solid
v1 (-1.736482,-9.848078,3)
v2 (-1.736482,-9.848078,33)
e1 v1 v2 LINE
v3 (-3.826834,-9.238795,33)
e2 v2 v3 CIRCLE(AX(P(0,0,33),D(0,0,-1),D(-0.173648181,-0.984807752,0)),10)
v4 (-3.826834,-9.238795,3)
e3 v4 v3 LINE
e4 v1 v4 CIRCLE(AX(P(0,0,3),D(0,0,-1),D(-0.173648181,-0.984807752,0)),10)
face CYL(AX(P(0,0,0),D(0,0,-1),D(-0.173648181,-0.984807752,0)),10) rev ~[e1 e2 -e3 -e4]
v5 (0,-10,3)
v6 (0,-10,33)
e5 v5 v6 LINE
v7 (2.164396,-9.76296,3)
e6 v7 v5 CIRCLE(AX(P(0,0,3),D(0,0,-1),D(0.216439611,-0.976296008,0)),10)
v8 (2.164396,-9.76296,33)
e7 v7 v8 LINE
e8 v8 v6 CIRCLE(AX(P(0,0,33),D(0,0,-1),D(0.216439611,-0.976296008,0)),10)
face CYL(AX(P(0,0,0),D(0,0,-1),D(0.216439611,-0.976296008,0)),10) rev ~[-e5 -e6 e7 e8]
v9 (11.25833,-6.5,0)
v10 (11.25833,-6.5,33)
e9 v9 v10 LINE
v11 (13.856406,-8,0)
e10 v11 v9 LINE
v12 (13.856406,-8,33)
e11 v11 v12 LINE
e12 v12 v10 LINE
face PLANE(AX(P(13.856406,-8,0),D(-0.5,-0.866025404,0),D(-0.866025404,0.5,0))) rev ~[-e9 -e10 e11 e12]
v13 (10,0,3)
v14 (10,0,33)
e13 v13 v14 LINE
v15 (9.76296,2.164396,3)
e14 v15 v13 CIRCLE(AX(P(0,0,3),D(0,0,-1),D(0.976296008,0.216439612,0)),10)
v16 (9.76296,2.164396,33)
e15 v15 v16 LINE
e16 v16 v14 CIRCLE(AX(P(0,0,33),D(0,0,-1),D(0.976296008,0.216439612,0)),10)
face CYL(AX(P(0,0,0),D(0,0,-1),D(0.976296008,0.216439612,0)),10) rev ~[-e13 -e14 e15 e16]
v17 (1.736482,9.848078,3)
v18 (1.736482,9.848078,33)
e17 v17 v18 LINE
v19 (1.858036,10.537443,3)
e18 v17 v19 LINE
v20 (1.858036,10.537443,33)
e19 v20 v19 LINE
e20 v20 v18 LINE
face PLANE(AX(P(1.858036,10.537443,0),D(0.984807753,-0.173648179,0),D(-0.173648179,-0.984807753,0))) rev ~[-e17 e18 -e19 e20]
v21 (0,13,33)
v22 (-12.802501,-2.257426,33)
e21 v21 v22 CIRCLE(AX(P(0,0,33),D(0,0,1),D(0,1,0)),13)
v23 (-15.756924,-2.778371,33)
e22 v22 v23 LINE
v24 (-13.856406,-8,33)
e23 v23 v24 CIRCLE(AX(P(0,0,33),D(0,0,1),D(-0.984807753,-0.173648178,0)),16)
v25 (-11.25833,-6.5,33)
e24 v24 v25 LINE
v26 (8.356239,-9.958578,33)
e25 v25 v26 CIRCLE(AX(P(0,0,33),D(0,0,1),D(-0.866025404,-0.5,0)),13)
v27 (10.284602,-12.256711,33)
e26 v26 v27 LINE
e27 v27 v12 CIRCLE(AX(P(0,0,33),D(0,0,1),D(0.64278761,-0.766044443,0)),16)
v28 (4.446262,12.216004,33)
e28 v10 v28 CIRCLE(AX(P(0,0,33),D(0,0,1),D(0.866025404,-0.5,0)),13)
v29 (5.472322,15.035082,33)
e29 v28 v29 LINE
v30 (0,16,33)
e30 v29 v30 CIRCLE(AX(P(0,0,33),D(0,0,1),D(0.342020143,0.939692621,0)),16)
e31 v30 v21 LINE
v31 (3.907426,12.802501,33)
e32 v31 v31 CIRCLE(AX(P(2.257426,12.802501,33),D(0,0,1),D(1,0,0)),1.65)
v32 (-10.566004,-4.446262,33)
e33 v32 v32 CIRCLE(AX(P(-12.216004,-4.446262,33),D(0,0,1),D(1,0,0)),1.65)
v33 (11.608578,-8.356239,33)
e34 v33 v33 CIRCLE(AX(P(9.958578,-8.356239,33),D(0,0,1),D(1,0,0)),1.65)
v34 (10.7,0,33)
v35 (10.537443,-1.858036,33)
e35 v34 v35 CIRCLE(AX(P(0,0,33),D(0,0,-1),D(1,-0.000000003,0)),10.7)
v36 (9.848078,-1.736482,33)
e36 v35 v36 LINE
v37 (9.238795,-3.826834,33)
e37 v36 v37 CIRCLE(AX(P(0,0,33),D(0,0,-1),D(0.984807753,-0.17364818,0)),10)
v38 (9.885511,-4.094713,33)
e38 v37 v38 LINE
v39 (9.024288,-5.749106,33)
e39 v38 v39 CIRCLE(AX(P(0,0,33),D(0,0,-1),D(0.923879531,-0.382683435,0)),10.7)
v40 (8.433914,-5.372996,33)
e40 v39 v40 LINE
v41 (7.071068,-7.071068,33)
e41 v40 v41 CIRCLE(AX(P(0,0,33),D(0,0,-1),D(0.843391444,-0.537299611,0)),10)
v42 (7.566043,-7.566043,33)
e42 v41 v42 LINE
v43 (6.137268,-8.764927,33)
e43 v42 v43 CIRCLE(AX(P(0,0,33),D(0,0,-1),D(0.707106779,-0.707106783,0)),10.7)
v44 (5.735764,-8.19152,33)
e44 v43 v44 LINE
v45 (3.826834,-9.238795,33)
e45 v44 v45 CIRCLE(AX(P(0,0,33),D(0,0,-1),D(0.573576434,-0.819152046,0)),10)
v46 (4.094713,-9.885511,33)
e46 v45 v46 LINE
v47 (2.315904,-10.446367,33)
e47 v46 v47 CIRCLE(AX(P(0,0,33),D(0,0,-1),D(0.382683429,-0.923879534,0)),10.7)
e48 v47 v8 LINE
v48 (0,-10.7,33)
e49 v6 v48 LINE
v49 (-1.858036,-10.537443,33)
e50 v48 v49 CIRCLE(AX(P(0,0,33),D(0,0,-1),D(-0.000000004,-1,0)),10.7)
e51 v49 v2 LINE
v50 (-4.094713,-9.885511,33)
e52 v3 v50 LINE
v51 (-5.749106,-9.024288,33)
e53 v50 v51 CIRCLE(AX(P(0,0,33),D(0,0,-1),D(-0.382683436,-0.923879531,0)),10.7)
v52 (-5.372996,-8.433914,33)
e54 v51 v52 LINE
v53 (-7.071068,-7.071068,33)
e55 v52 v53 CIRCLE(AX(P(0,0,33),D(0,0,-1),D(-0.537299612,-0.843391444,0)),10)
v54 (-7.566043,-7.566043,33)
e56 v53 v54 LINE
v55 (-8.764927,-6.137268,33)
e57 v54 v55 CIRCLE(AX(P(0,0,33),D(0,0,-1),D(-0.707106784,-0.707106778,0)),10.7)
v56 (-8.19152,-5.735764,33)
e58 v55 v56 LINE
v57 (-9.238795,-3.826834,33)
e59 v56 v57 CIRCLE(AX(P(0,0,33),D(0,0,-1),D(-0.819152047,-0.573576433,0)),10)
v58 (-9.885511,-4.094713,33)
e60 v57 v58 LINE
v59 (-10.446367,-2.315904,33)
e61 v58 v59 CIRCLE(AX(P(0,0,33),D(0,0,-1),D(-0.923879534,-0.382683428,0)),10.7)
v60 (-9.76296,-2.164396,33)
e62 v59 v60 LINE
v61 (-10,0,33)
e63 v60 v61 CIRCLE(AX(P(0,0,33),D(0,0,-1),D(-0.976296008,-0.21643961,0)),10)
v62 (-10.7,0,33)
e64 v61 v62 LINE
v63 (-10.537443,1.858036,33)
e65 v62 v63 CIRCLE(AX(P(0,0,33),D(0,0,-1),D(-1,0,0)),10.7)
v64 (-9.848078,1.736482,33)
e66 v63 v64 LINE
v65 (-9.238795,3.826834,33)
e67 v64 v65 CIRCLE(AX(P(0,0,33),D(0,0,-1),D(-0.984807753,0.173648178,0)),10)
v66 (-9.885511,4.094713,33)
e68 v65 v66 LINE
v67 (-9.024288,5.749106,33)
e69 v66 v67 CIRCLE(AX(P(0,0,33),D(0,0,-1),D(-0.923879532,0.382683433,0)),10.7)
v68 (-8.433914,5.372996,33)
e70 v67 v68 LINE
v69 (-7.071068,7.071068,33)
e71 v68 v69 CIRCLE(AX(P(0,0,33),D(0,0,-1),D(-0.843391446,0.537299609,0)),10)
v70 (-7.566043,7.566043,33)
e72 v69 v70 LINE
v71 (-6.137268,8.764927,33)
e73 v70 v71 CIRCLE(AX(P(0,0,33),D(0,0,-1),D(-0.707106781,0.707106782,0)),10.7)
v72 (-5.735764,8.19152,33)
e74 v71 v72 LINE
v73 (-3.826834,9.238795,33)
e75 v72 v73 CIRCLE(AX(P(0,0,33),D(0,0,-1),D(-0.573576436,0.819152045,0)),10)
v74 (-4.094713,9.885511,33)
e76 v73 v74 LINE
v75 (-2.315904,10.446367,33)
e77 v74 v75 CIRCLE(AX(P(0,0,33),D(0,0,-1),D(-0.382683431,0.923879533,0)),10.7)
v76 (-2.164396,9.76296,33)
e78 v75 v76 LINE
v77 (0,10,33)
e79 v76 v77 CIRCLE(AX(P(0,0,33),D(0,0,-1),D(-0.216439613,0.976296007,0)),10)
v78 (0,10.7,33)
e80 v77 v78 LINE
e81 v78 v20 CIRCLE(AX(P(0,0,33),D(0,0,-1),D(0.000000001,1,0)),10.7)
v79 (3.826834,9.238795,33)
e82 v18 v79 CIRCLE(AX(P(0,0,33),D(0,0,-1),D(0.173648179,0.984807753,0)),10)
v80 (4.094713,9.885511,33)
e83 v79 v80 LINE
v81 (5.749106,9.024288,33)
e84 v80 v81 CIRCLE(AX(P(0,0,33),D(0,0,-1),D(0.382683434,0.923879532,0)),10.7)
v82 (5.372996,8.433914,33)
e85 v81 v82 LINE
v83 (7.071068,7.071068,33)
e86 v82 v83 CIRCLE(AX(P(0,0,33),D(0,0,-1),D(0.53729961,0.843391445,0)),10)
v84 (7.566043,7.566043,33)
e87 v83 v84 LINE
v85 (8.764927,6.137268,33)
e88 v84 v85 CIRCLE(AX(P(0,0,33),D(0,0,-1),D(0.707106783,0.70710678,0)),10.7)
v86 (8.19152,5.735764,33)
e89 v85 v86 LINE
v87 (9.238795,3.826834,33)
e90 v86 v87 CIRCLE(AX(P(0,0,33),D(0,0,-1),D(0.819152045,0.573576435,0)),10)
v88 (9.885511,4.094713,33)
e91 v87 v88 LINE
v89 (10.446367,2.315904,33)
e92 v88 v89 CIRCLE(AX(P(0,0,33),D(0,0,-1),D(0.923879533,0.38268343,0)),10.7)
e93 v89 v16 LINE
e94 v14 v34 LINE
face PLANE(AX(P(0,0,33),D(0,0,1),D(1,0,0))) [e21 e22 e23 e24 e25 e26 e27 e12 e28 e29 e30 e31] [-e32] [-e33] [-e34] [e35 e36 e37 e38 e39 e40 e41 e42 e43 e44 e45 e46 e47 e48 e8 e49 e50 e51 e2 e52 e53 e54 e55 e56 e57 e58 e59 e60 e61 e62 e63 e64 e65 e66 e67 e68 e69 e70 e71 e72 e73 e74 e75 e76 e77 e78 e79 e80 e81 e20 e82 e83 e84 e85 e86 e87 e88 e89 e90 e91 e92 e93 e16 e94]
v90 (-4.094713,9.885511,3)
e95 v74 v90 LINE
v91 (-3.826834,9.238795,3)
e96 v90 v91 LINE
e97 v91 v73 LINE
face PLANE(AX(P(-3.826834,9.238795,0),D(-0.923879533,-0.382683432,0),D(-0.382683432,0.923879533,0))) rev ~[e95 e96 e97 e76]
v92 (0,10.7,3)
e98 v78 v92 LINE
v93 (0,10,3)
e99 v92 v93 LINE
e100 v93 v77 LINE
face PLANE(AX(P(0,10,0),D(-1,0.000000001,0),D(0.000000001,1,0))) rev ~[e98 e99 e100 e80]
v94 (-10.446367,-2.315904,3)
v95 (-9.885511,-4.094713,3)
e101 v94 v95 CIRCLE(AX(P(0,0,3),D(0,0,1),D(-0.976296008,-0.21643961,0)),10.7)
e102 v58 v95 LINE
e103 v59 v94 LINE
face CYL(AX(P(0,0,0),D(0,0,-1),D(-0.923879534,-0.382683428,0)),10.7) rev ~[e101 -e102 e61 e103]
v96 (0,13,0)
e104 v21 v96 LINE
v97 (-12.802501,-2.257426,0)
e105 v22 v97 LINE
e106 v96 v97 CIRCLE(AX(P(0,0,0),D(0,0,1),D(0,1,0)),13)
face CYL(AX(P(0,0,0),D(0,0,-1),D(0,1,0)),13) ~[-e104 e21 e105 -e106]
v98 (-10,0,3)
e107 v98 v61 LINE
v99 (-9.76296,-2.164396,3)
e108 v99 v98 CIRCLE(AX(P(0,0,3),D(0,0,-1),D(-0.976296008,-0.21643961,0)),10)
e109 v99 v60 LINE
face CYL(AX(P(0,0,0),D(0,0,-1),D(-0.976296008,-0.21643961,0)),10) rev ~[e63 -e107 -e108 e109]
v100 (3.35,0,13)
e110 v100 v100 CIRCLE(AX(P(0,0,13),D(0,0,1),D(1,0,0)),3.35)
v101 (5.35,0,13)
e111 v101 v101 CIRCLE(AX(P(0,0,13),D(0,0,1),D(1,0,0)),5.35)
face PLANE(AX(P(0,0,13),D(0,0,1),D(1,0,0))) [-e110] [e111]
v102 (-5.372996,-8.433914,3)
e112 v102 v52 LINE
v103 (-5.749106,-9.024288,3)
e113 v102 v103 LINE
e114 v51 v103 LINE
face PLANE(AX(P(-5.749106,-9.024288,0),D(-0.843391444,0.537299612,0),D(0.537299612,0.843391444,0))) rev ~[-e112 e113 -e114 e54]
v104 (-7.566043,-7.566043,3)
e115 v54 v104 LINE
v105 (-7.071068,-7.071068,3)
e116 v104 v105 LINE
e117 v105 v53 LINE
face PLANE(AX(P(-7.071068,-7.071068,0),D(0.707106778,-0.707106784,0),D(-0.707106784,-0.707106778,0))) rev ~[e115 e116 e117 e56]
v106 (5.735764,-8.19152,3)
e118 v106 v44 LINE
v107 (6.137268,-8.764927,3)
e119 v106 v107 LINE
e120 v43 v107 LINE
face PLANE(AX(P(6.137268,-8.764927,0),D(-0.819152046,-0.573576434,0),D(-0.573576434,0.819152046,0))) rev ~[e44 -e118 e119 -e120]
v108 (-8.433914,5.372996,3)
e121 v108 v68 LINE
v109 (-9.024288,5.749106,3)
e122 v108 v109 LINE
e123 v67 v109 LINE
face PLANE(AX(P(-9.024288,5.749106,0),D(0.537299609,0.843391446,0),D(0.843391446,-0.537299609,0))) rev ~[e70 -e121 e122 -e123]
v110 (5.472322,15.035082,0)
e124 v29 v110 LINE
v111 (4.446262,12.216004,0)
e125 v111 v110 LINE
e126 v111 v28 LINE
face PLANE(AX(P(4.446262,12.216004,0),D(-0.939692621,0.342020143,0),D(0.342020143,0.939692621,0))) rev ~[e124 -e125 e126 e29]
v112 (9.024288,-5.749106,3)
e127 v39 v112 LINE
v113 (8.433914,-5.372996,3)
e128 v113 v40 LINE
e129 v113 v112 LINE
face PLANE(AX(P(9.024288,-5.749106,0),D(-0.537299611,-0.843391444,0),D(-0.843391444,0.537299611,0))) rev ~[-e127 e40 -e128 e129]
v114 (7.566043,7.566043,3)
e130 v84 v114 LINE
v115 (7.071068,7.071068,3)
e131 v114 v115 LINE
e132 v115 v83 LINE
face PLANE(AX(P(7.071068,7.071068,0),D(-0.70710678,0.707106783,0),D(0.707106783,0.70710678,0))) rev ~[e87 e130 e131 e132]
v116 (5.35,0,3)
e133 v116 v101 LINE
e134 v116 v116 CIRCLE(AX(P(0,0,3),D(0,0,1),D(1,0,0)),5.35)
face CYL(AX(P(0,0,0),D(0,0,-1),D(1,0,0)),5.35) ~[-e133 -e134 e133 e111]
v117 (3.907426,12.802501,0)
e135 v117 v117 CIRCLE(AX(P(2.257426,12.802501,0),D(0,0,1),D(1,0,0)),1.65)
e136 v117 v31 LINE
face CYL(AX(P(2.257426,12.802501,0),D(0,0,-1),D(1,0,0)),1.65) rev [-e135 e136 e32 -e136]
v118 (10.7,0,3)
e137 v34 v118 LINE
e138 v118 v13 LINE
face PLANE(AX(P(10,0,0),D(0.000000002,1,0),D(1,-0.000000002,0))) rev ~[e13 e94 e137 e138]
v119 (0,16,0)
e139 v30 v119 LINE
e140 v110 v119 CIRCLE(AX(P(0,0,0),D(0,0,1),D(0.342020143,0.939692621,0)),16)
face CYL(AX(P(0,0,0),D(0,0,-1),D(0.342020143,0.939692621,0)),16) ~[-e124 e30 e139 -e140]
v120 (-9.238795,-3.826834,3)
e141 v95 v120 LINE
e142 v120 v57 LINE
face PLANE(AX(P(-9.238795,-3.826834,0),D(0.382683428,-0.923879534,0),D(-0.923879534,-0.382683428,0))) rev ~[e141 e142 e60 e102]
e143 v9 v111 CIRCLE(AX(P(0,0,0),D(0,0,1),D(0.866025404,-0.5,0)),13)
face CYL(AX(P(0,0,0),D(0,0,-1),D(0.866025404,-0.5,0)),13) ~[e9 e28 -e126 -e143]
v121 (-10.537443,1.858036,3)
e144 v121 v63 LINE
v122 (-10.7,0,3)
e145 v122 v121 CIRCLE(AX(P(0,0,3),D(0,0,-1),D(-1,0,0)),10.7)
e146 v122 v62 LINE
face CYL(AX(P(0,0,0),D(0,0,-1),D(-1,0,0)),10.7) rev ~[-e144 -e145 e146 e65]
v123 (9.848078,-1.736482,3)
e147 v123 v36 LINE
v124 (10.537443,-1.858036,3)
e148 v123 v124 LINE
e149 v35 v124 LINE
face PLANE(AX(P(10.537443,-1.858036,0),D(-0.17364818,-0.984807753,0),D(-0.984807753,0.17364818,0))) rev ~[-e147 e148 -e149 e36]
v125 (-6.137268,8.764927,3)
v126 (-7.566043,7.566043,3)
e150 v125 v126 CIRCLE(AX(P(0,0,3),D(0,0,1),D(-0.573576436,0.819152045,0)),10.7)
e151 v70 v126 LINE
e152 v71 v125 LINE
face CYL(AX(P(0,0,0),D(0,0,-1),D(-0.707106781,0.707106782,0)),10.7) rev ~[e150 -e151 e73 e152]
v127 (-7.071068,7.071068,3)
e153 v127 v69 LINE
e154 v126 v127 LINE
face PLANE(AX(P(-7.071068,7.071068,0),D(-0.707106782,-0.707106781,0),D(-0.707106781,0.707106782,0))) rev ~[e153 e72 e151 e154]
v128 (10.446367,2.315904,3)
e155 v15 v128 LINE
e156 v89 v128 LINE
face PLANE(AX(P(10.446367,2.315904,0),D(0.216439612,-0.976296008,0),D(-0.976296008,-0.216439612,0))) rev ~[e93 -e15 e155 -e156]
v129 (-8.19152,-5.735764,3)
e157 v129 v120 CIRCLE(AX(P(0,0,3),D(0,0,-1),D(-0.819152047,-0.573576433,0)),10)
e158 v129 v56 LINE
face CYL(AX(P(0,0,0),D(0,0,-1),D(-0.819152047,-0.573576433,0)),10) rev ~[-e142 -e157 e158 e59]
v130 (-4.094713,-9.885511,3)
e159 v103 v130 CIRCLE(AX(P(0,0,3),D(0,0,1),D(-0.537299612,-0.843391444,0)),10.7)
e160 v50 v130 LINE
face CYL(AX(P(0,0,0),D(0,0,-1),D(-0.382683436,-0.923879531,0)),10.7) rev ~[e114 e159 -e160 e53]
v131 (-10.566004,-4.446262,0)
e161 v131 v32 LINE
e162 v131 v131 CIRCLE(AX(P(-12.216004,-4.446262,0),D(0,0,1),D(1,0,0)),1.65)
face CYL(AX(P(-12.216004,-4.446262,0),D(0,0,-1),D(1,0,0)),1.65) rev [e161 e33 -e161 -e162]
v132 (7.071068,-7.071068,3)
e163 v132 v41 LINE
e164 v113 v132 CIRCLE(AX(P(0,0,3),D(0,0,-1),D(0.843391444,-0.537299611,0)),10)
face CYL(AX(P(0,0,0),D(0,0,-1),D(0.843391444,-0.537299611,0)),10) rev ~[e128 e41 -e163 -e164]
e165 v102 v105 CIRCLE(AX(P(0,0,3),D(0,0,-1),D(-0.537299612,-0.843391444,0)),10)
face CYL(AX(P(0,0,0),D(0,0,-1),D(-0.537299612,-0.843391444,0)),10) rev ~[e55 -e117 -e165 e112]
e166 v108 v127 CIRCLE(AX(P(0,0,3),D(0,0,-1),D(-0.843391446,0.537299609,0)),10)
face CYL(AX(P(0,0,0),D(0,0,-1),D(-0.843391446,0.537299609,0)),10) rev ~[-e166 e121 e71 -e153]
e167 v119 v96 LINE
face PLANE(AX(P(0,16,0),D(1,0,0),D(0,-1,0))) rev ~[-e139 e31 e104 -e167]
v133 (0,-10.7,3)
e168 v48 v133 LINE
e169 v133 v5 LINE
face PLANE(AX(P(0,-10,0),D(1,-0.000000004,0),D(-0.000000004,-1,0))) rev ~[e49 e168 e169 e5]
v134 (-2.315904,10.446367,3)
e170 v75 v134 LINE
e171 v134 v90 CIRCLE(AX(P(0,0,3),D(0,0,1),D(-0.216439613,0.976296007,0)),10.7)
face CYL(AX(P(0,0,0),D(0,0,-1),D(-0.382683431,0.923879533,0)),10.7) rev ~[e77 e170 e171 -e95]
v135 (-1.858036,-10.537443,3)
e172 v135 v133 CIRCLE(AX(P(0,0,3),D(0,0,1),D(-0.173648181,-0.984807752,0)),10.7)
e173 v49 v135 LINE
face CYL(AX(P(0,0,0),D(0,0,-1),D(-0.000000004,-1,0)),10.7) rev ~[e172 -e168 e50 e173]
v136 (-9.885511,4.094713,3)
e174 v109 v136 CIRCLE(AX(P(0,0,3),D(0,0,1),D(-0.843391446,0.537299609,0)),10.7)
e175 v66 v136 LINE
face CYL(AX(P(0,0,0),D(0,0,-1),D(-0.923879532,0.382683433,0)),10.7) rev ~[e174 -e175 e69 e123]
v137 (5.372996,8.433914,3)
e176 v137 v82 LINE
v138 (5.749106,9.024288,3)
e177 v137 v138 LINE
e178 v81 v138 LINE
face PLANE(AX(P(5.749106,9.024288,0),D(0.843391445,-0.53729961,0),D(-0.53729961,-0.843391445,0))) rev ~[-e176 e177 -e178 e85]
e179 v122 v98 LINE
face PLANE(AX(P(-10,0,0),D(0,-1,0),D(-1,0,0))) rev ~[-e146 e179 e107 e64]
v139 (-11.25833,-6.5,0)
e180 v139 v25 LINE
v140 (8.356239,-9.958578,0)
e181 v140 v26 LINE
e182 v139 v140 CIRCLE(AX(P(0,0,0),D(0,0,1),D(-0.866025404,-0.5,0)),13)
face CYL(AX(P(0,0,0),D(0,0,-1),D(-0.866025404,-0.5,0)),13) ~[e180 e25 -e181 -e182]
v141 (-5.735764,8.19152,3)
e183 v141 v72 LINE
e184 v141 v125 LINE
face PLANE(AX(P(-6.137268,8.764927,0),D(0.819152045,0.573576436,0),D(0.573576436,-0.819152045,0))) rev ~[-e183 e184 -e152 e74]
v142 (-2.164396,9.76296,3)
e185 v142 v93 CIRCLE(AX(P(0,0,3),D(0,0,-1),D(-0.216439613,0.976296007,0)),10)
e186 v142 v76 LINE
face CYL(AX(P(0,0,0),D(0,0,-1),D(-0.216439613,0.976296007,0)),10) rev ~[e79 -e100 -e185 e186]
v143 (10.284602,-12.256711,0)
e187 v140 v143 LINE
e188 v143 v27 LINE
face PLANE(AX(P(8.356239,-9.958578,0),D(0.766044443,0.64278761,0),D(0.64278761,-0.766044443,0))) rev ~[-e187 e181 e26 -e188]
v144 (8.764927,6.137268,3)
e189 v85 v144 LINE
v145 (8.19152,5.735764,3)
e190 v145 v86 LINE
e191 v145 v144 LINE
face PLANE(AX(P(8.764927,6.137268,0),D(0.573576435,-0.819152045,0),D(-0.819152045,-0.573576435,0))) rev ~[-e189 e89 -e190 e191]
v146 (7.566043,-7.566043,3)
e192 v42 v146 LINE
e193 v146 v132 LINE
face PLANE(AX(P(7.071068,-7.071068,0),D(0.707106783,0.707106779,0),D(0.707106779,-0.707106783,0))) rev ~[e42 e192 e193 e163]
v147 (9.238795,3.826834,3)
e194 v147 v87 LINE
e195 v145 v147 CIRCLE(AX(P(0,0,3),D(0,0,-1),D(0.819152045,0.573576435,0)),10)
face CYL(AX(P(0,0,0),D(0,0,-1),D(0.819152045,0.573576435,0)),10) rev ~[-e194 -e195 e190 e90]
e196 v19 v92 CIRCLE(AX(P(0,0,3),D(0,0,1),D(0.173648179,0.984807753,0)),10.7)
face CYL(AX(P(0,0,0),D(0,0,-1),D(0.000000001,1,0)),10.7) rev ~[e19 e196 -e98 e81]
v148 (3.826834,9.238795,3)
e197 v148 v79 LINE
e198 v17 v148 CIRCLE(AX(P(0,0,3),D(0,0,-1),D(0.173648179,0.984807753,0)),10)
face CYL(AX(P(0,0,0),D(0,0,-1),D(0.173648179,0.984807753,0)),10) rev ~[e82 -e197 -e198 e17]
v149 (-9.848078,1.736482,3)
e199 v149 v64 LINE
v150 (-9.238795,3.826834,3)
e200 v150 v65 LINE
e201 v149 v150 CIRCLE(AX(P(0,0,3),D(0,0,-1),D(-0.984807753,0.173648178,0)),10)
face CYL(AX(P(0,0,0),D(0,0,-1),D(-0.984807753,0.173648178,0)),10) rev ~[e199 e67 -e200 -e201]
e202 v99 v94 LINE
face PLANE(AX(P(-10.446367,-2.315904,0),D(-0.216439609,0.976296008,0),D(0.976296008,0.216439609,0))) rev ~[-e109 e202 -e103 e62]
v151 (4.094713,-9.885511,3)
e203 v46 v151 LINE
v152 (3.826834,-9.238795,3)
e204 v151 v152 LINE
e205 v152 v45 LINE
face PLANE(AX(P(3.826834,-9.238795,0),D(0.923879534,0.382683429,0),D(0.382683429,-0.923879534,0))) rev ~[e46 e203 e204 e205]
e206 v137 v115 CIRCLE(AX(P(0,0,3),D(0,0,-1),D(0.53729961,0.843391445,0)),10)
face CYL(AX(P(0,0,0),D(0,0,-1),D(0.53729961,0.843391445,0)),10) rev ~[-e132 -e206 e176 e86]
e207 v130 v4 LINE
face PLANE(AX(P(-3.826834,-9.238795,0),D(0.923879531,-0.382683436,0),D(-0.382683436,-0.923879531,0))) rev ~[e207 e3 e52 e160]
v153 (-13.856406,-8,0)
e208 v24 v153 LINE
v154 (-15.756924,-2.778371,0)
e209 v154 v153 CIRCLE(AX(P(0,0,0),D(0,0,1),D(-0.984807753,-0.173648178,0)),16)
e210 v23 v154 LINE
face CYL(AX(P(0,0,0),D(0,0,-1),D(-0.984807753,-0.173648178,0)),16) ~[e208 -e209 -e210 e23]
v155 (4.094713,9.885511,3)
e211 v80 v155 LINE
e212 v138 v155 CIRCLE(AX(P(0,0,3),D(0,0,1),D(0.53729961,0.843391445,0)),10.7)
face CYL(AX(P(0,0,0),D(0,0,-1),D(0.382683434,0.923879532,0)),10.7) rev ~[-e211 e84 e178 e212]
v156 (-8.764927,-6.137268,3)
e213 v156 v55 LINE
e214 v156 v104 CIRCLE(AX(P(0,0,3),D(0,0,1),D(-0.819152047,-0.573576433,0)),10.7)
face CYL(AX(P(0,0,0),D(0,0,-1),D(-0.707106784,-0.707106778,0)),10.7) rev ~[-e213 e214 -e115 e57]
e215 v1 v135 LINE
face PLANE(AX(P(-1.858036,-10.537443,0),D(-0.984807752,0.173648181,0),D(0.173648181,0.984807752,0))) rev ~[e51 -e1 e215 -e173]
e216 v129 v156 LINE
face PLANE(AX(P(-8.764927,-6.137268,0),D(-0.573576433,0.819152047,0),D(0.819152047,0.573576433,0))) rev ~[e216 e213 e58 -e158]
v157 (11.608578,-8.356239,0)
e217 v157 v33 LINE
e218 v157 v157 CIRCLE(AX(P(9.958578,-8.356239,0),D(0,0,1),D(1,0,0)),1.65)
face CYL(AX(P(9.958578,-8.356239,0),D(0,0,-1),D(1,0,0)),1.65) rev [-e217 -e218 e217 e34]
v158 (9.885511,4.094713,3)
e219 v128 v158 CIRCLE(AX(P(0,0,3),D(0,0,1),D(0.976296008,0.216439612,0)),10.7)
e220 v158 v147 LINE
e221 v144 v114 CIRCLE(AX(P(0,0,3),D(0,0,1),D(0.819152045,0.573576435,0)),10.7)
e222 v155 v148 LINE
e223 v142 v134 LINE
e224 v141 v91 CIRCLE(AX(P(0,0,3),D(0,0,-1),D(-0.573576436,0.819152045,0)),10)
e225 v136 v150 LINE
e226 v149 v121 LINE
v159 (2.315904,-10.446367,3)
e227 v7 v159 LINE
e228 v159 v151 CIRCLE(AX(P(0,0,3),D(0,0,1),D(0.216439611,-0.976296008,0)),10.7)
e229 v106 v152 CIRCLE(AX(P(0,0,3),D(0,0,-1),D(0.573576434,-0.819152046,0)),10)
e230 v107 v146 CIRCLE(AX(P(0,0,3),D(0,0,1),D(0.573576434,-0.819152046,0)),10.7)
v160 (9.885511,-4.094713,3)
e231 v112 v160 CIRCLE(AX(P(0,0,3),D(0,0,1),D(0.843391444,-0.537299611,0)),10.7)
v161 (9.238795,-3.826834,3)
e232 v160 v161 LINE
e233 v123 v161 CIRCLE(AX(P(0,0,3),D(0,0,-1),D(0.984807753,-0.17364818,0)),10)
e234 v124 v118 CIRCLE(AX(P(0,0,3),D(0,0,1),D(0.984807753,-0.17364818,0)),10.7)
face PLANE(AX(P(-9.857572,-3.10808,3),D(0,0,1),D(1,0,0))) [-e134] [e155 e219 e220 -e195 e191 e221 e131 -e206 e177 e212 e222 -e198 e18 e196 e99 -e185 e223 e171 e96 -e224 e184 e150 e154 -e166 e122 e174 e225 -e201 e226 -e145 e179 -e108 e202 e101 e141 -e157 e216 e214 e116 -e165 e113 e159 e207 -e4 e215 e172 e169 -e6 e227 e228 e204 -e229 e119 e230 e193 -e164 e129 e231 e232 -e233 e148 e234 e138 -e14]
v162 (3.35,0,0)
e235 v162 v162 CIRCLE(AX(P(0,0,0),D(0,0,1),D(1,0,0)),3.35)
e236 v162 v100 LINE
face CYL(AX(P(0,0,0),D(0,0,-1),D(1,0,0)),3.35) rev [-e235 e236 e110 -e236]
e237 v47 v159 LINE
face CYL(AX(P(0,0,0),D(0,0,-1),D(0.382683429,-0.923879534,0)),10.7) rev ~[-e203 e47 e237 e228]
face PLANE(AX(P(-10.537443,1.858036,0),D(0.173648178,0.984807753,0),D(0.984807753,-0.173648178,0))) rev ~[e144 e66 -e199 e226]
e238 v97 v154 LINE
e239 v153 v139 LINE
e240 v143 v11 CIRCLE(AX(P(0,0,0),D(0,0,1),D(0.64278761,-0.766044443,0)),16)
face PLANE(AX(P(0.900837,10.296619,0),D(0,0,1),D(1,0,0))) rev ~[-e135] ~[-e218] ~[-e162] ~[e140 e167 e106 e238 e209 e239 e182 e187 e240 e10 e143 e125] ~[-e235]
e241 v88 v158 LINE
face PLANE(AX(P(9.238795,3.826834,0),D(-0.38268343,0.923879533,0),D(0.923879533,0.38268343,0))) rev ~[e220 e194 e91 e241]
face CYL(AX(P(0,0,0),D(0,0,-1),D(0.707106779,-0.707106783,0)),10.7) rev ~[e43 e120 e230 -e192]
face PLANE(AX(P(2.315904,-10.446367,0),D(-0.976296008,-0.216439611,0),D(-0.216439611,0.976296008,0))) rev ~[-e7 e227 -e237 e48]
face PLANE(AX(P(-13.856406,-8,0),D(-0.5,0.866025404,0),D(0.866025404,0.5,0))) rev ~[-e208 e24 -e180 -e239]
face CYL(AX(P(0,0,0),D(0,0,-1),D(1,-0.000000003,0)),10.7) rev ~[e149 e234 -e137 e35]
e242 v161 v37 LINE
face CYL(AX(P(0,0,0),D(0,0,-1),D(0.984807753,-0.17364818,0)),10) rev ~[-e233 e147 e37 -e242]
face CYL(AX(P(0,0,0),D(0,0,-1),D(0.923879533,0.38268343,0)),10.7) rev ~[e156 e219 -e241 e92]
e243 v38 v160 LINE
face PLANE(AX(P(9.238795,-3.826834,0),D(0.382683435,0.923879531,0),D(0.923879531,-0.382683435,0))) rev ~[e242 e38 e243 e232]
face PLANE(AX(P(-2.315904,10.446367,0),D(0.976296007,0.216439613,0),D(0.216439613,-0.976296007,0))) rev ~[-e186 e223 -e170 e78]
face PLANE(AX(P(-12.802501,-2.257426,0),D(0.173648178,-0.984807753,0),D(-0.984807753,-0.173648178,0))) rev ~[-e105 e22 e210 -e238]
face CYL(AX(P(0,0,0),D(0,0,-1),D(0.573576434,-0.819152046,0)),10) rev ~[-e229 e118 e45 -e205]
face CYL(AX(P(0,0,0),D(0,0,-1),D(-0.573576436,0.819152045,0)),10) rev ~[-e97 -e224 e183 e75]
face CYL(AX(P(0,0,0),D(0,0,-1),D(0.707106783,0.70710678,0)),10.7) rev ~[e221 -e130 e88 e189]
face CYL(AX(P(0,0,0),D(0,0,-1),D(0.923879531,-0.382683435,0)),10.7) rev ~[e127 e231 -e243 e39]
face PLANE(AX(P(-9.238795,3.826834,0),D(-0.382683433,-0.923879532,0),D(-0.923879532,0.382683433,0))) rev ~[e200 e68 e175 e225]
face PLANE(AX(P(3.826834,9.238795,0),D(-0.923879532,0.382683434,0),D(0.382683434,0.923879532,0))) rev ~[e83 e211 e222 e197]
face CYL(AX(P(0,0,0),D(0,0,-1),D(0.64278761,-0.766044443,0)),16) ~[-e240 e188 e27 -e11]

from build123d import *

# Parameters (mm, degrees)
F0_R     = 1.65
F0_R_2   = 5.35
F1_DEPTH = 3
F2_DEPTH = 33
F0_R_3   = 3.35
F3_DEPTH = 13
F4_DEPTH = 3


with BuildPart() as f1:
    # F0 (on Top) → F1 (new body)
    with BuildSketch(Plane.XY):
        with BuildLine():
            Line((-13.8564064606, -8), (-11.2583302492, -6.5))
            ThreePointArc((-11.2583302492, -6.5), (-2.2574263097, -12.8025007892), (8.3562389259, -9.9585777605))
            Line((8.3562389259, -9.9585777605), (10.284601755, -12.2567110899))
            ThreePointArc((10.284601755, -12.2567110899), (12.2567110899, -10.284601755), (13.8564064606, -8))
            Line((13.8564064606, -8), (11.2583302492, -6.5))
            ThreePointArc((11.2583302492, -6.5), (12.2160040702, 4.4462618632), (4.4462618632, 12.2160040702))
            Line((4.4462618632, 12.2160040702), (5.4723222932, 15.0350819326))
            ThreePointArc((5.4723222932, 15.0350819326), (2.7783708427, 15.7569240482), (0, 16))
            Line((0, 16), (0, 13))
            ThreePointArc((0, 13), (-9.9585777605, 8.3562389259), (-12.8025007892, -2.2574263097))
            Line((-12.8025007892, -2.2574263097), (-15.7569240482, -2.7783708427))
            ThreePointArc((-15.7569240482, -2.7783708427), (-15.0350819326, -5.4723222932), (-13.8564064606, -8))
        make_face()
        with Locations((-12.2160040702, -4.4462618632)):
            Circle(F0_R, mode=Mode.SUBTRACT)
        with Locations((9.9585777605, -8.3562389259)):
            Circle(F0_R, mode=Mode.SUBTRACT)
        with BuildLine():
            ThreePointArc((-9.762960081, -2.1643960953), (-9.9405633847, -1.0886687261), (-10, 0))
            Line((-10, 0), (-10.7, 0))
            ThreePointArc((-10.7, 0), (-10.6592832696, 0.9325664474), (-10.5374429572, 1.858035501))
            Line((-10.5374429572, 1.858035501), (-9.8480775301, 1.7364817767))
            ThreePointArc((-9.8480775301, 1.7364817767), (-9.6004985434, 2.7982901418), (-9.238795324, 3.8268343264))
            Line((-9.238795324, 3.8268343264), (-9.8855109966, 4.0947127293))
            ThreePointArc((-9.8855109966, 4.0947127293), (-9.4910159135, 4.9407101645), (-9.0242884685, 5.749105812))
            Line((-9.0242884685, 5.749105812), (-8.4339144565, 5.372996086))
            ThreePointArc((-8.4339144565, 5.372996086), (-7.7988448281, 6.2592347254), (-7.0710678076, 7.0710678161))
            Line((-7.0710678076, 7.0710678161), (-7.5660425541, 7.5660425633))
            ThreePointArc((-7.5660425541, 7.5660425633), (-6.8778274187, 8.1966755455), (-6.1372678637, 8.7649268776))
            Line((-6.1372678637, 8.7649268776), (-5.7357643586, 8.1915204463))
            ThreePointArc((-5.7357643586, 8.1915204463), (-4.8098876826, 8.7672675607), (-3.8268343153, 9.2387953286))
            Line((-3.8268343153, 9.2387953286), (-4.0947127174, 9.8855110016))
            ThreePointArc((-4.0947127174, 9.8855110016), (-3.2175520455, 10.2047713759), (-2.3159038597, 10.4463672783))
            Line((-2.3159038597, 10.4463672783), (-2.1643961306, 9.7629600732))
            ThreePointArc((-2.1643961306, 9.7629600732), (-1.088668738, 9.9405633834), (1.21e-08, 10))
            Line((1.21e-08, 10), (1.29e-08, 10.7))
            ThreePointArc((1.29e-08, 10.7), (0.9325664602, 10.6592832685), (1.8580355137, 10.537442955))
            Line((1.8580355137, 10.537442955), (1.7364817885, 9.848077528))
            ThreePointArc((1.7364817885, 9.848077528), (2.7982901533, 9.6004985401), (3.8268343376, 9.2387953193))
            Line((3.8268343376, 9.2387953193), (4.0947127412, 9.8855109917))
            ThreePointArc((4.0947127412, 9.8855109917), (4.9407101759, 9.4910159076), (5.7491058229, 9.0242884615))
            Line((5.7491058229, 9.0242884615), (5.3729960962, 8.43391445))
            ThreePointArc((5.3729960962, 8.43391445), (6.2592347348, 7.7988448206), (7.0710678246, 7.0710677991))
            Line((7.0710678246, 7.0710677991), (7.5660425724, 7.566042545))
            ThreePointArc((7.5660425724, 7.566042545), (8.1966755538, 6.8778274088), (8.764926885, 6.1372678531))
            Line((8.764926885, 6.1372678531), (8.1915204533, 5.7357643487))
            ThreePointArc((8.1915204533, 5.7357643487), (8.7672675665, 4.809887672), (9.2387953332, 3.8268343042))
            Line((9.2387953332, 3.8268343042), (9.8855110065, 4.0947127055))
            ThreePointArc((9.8855110065, 4.0947127055), (10.2047713798, 3.2175520332), (10.4463672811, 2.3159038471))
            Line((10.4463672811, 2.3159038471), (9.7629600758, 2.1643961188))
            ThreePointArc((9.7629600758, 2.1643961188), (9.9405633847, 1.0886687261), (10, -2.41e-08))
            Line((10, -2.41e-08), (10.7, -2.58e-08))
            ThreePointArc((10.7, -2.58e-08), (10.6592832673, -0.9325664731), (10.5374429528, -1.8580355264))
            Line((10.5374429528, -1.8580355264), (9.8480775259, -1.7364818004))
            ThreePointArc((9.8480775259, -1.7364818004), (9.6004985367, -2.7982901649), (9.2387953147, -3.8268343487))
            Line((9.2387953147, -3.8268343487), (9.8855109868, -4.0947127531))
            ThreePointArc((9.8855109868, -4.0947127531), (9.4910159016, -4.9407101873), (9.0242884546, -5.7491058338))
            Line((9.0242884546, -5.7491058338), (8.4339144436, -5.3729961063))
            ThreePointArc((8.4339144436, -5.3729961063), (7.798844813, -6.2592347442), (7.0710677906, -7.0710678332))
            Line((7.0710677906, -7.0710678332), (7.5660425359, -7.5660425815))
            ThreePointArc((7.5660425359, -7.5660425815), (6.877827399, -8.1966755621), (6.1372678425, -8.7649268924))
            Line((6.1372678425, -8.7649268924), (5.7357643388, -8.1915204602))
            ThreePointArc((5.7357643388, -8.1915204602), (4.8098876615, -8.7672675723), (3.826834293, -9.2387953378))
            Line((3.826834293, -9.2387953378), (4.0947126935, -9.8855110114))
            ThreePointArc((4.0947126935, -9.8855110114), (3.2175520209, -10.2047713837), (2.3159038345, -10.4463672839))
            Line((2.3159038345, -10.4463672839), (2.164396107, -9.7629600784))
            ThreePointArc((2.164396107, -9.7629600784), (1.0886687141, -9.940563386), (-3.62e-08, -10))
            Line((-3.62e-08, -10), (-3.87e-08, -10.7))
            ThreePointArc((-3.87e-08, -10.7), (-0.9325664859, -10.6592832662), (-1.8580355391, -10.5374429505))
            Line((-1.8580355391, -10.5374429505), (-1.7364818123, -9.8480775238))
            ThreePointArc((-1.7364818123, -9.8480775238), (-2.7982901765, -9.6004985333), (-3.8268343598, -9.2387953101))
            Line((-3.8268343598, -9.2387953101), (-4.094712765, -9.8855109818))
            ThreePointArc((-4.094712765, -9.8855109818), (-4.9407101988, -9.4910158957), (-5.7491058447, -9.0242884477))
            Line((-5.7491058447, -9.0242884477), (-5.3729961165, -8.4339144371))
            ThreePointArc((-5.3729961165, -8.4339144371), (-6.2592347536, -7.7988448055), (-7.0710678417, -7.071067782))
            Line((-7.0710678417, -7.071067782), (-7.5660425906, -7.5660425268))
            ThreePointArc((-7.5660425906, -7.5660425268), (-8.1966755704, -6.8778273891), (-8.7649268998, -6.137267832))
            Line((-8.7649268998, -6.137267832), (-8.1915204671, -5.735764329))
            ThreePointArc((-8.1915204671, -5.735764329), (-8.7672675781, -4.8098876509), (-9.2387953424, -3.8268342819))
            Line((-9.2387953424, -3.8268342819), (-9.8855110164, -4.0947126816))
            ThreePointArc((-9.8855110164, -4.0947126816), (-10.2047713875, -3.2175520086), (-10.4463672866, -2.3159038219))
            Line((-10.4463672866, -2.3159038219), (-9.762960081, -2.1643960953))
        make_face(mode=Mode.SUBTRACT)
        with Locations((2.2574263097, 12.8025007892)):
            Circle(F0_R, mode=Mode.SUBTRACT)
        with BuildLine():
            Line((-10.7, 0), (-10, 0))
            ThreePointArc((-10, 0), (-9.9405633847, -1.0886687261), (-9.762960081, -2.1643960953))
            ThreePointArc((-9.762960081, -2.1643960953), (-9.5371695211, -3.0070579519), (-9.2387953424, -3.8268342819))
            ThreePointArc((-9.2387953424, -3.8268342819), (-8.7672675781, -4.8098876509), (-8.1915204671, -5.735764329))
            ThreePointArc((-8.1915204671, -5.735764329), (-7.6604444583, -6.4278760646), (-7.0710678417, -7.071067782))
            ThreePointArc((-7.0710678417, -7.071067782), (-6.2592347536, -7.7988448055), (-5.3729961165, -8.4339144371))
            ThreePointArc((-5.3729961165, -8.4339144371), (-4.6174861671, -8.8701083137), (-3.8268343598, -9.2387953101))
            ThreePointArc((-3.8268343598, -9.2387953101), (-2.7982901765, -9.6004985333), (-1.7364818123, -9.8480775238))
            ThreePointArc((-1.7364818123, -9.8480775238), (-0.8715574635, -9.9619469778), (-3.62e-08, -10))
            ThreePointArc((-3.62e-08, -10), (1.0886687141, -9.940563386), (2.164396107, -9.7629600784))
            ThreePointArc((2.164396107, -9.7629600784), (3.0070579634, -9.5371695174), (3.826834293, -9.2387953378))
            ThreePointArc((3.826834293, -9.2387953378), (4.8098876615, -8.7672675723), (5.7357643388, -8.1915204602))
            ThreePointArc((5.7357643388, -8.1915204602), (6.4278760738, -7.6604444506), (7.0710677906, -7.0710678332))
            ThreePointArc((7.0710677906, -7.0710678332), (7.798844813, -6.2592347442), (8.4339144436, -5.3729961063))
            ThreePointArc((8.4339144436, -5.3729961063), (8.8701083193, -4.6174861564), (9.2387953147, -3.8268343487))
            ThreePointArc((9.2387953147, -3.8268343487), (9.6004985367, -2.7982901649), (9.8480775259, -1.7364818004))
            ThreePointArc((9.8480775259, -1.7364818004), (9.9619469788, -0.8715574515), (10, -2.41e-08))
            ThreePointArc((10, -2.41e-08), (9.9405633847, 1.0886687261), (9.7629600758, 2.1643961188))
            ThreePointArc((9.7629600758, 2.1643961188), (9.5371695138, 3.0070579749), (9.2387953332, 3.8268343042))
            ThreePointArc((9.2387953332, 3.8268343042), (8.7672675665, 4.809887672), (8.1915204533, 5.7357643487))
            ThreePointArc((8.1915204533, 5.7357643487), (7.6604444428, 6.427876083), (7.0710678246, 7.0710677991))
            ThreePointArc((7.0710678246, 7.0710677991), (6.2592347348, 7.7988448206), (5.3729960962, 8.43391445))
            ThreePointArc((5.3729960962, 8.43391445), (4.6174861457, 8.8701083248), (3.8268343376, 9.2387953193))
            ThreePointArc((3.8268343376, 9.2387953193), (2.7982901533, 9.6004985401), (1.7364817885, 9.848077528))
            ThreePointArc((1.7364817885, 9.848077528), (0.8715574395, 9.9619469799), (1.21e-08, 10))
            ThreePointArc((1.21e-08, 10), (-1.088668738, 9.9405633834), (-2.1643961306, 9.7629600732))
            ThreePointArc((-2.1643961306, 9.7629600732), (-3.0070579864, 9.5371695102), (-3.8268343153, 9.2387953286))
            ThreePointArc((-3.8268343153, 9.2387953286), (-4.8098876826, 8.7672675607), (-5.7357643586, 8.1915204463))
            ThreePointArc((-5.7357643586, 8.1915204463), (-6.4278760922, 7.6604444351), (-7.0710678076, 7.0710678161))
            ThreePointArc((-7.0710678076, 7.0710678161), (-7.7988448281, 6.2592347254), (-8.4339144565, 5.372996086))
            ThreePointArc((-8.4339144565, 5.372996086), (-8.8701083304, 4.617486135), (-9.238795324, 3.8268343264))
            ThreePointArc((-9.238795324, 3.8268343264), (-9.6004985434, 2.7982901418), (-9.8480775301, 1.7364817767))
            Line((-9.8480775301, 1.7364817767), (-10.5374429572, 1.858035501))
            ThreePointArc((-10.5374429572, 1.858035501), (-10.6592832696, 0.9325664474), (-10.7, 0))
        make_face()
        Circle(F0_R_2, mode=Mode.SUBTRACT)
    extrude(amount=F1_DEPTH)

    # F0 (on Top) → F2 (join)
    with BuildSketch(Plane.XY):
        with BuildLine():
            Line((-13.8564064606, -8), (-11.2583302492, -6.5))
            ThreePointArc((-11.2583302492, -6.5), (-2.2574263097, -12.8025007892), (8.3562389259, -9.9585777605))
            Line((8.3562389259, -9.9585777605), (10.284601755, -12.2567110899))
            ThreePointArc((10.284601755, -12.2567110899), (12.2567110899, -10.284601755), (13.8564064606, -8))
            Line((13.8564064606, -8), (11.2583302492, -6.5))
            ThreePointArc((11.2583302492, -6.5), (12.2160040702, 4.4462618632), (4.4462618632, 12.2160040702))
            Line((4.4462618632, 12.2160040702), (5.4723222932, 15.0350819326))
            ThreePointArc((5.4723222932, 15.0350819326), (2.7783708427, 15.7569240482), (0, 16))
            Line((0, 16), (0, 13))
            ThreePointArc((0, 13), (-9.9585777605, 8.3562389259), (-12.8025007892, -2.2574263097))
            Line((-12.8025007892, -2.2574263097), (-15.7569240482, -2.7783708427))
            ThreePointArc((-15.7569240482, -2.7783708427), (-15.0350819326, -5.4723222932), (-13.8564064606, -8))
        make_face()
        with Locations((-12.2160040702, -4.4462618632)):
            Circle(F0_R, mode=Mode.SUBTRACT)
        with Locations((9.9585777605, -8.3562389259)):
            Circle(F0_R, mode=Mode.SUBTRACT)
        with BuildLine():
            ThreePointArc((-9.762960081, -2.1643960953), (-9.9405633847, -1.0886687261), (-10, 0))
            Line((-10, 0), (-10.7, 0))
            ThreePointArc((-10.7, 0), (-10.6592832696, 0.9325664474), (-10.5374429572, 1.858035501))
            Line((-10.5374429572, 1.858035501), (-9.8480775301, 1.7364817767))
            ThreePointArc((-9.8480775301, 1.7364817767), (-9.6004985434, 2.7982901418), (-9.238795324, 3.8268343264))
            Line((-9.238795324, 3.8268343264), (-9.8855109966, 4.0947127293))
            ThreePointArc((-9.8855109966, 4.0947127293), (-9.4910159135, 4.9407101645), (-9.0242884685, 5.749105812))
            Line((-9.0242884685, 5.749105812), (-8.4339144565, 5.372996086))
            ThreePointArc((-8.4339144565, 5.372996086), (-7.7988448281, 6.2592347254), (-7.0710678076, 7.0710678161))
            Line((-7.0710678076, 7.0710678161), (-7.5660425541, 7.5660425633))
            ThreePointArc((-7.5660425541, 7.5660425633), (-6.8778274187, 8.1966755455), (-6.1372678637, 8.7649268776))
            Line((-6.1372678637, 8.7649268776), (-5.7357643586, 8.1915204463))
            ThreePointArc((-5.7357643586, 8.1915204463), (-4.8098876826, 8.7672675607), (-3.8268343153, 9.2387953286))
            Line((-3.8268343153, 9.2387953286), (-4.0947127174, 9.8855110016))
            ThreePointArc((-4.0947127174, 9.8855110016), (-3.2175520455, 10.2047713759), (-2.3159038597, 10.4463672783))
            Line((-2.3159038597, 10.4463672783), (-2.1643961306, 9.7629600732))
            ThreePointArc((-2.1643961306, 9.7629600732), (-1.088668738, 9.9405633834), (1.21e-08, 10))
            Line((1.21e-08, 10), (1.29e-08, 10.7))
            ThreePointArc((1.29e-08, 10.7), (0.9325664602, 10.6592832685), (1.8580355137, 10.537442955))
            Line((1.8580355137, 10.537442955), (1.7364817885, 9.848077528))
            ThreePointArc((1.7364817885, 9.848077528), (2.7982901533, 9.6004985401), (3.8268343376, 9.2387953193))
            Line((3.8268343376, 9.2387953193), (4.0947127412, 9.8855109917))
            ThreePointArc((4.0947127412, 9.8855109917), (4.9407101759, 9.4910159076), (5.7491058229, 9.0242884615))
            Line((5.7491058229, 9.0242884615), (5.3729960962, 8.43391445))
            ThreePointArc((5.3729960962, 8.43391445), (6.2592347348, 7.7988448206), (7.0710678246, 7.0710677991))
            Line((7.0710678246, 7.0710677991), (7.5660425724, 7.566042545))
            ThreePointArc((7.5660425724, 7.566042545), (8.1966755538, 6.8778274088), (8.764926885, 6.1372678531))
            Line((8.764926885, 6.1372678531), (8.1915204533, 5.7357643487))
            ThreePointArc((8.1915204533, 5.7357643487), (8.7672675665, 4.809887672), (9.2387953332, 3.8268343042))
            Line((9.2387953332, 3.8268343042), (9.8855110065, 4.0947127055))
            ThreePointArc((9.8855110065, 4.0947127055), (10.2047713798, 3.2175520332), (10.4463672811, 2.3159038471))
            Line((10.4463672811, 2.3159038471), (9.7629600758, 2.1643961188))
            ThreePointArc((9.7629600758, 2.1643961188), (9.9405633847, 1.0886687261), (10, -2.41e-08))
            Line((10, -2.41e-08), (10.7, -2.58e-08))
            ThreePointArc((10.7, -2.58e-08), (10.6592832673, -0.9325664731), (10.5374429528, -1.8580355264))
            Line((10.5374429528, -1.8580355264), (9.8480775259, -1.7364818004))
            ThreePointArc((9.8480775259, -1.7364818004), (9.6004985367, -2.7982901649), (9.2387953147, -3.8268343487))
            Line((9.2387953147, -3.8268343487), (9.8855109868, -4.0947127531))
            ThreePointArc((9.8855109868, -4.0947127531), (9.4910159016, -4.9407101873), (9.0242884546, -5.7491058338))
            Line((9.0242884546, -5.7491058338), (8.4339144436, -5.3729961063))
            ThreePointArc((8.4339144436, -5.3729961063), (7.798844813, -6.2592347442), (7.0710677906, -7.0710678332))
            Line((7.0710677906, -7.0710678332), (7.5660425359, -7.5660425815))
            ThreePointArc((7.5660425359, -7.5660425815), (6.877827399, -8.1966755621), (6.1372678425, -8.7649268924))
            Line((6.1372678425, -8.7649268924), (5.7357643388, -8.1915204602))
            ThreePointArc((5.7357643388, -8.1915204602), (4.8098876615, -8.7672675723), (3.826834293, -9.2387953378))
            Line((3.826834293, -9.2387953378), (4.0947126935, -9.8855110114))
            ThreePointArc((4.0947126935, -9.8855110114), (3.2175520209, -10.2047713837), (2.3159038345, -10.4463672839))
            Line((2.3159038345, -10.4463672839), (2.164396107, -9.7629600784))
            ThreePointArc((2.164396107, -9.7629600784), (1.0886687141, -9.940563386), (-3.62e-08, -10))
            Line((-3.62e-08, -10), (-3.87e-08, -10.7))
            ThreePointArc((-3.87e-08, -10.7), (-0.9325664859, -10.6592832662), (-1.8580355391, -10.5374429505))
            Line((-1.8580355391, -10.5374429505), (-1.7364818123, -9.8480775238))
            ThreePointArc((-1.7364818123, -9.8480775238), (-2.7982901765, -9.6004985333), (-3.8268343598, -9.2387953101))
            Line((-3.8268343598, -9.2387953101), (-4.094712765, -9.8855109818))
            ThreePointArc((-4.094712765, -9.8855109818), (-4.9407101988, -9.4910158957), (-5.7491058447, -9.0242884477))
            Line((-5.7491058447, -9.0242884477), (-5.3729961165, -8.4339144371))
            ThreePointArc((-5.3729961165, -8.4339144371), (-6.2592347536, -7.7988448055), (-7.0710678417, -7.071067782))
            Line((-7.0710678417, -7.071067782), (-7.5660425906, -7.5660425268))
            ThreePointArc((-7.5660425906, -7.5660425268), (-8.1966755704, -6.8778273891), (-8.7649268998, -6.137267832))
            Line((-8.7649268998, -6.137267832), (-8.1915204671, -5.735764329))
            ThreePointArc((-8.1915204671, -5.735764329), (-8.7672675781, -4.8098876509), (-9.2387953424, -3.8268342819))
            Line((-9.2387953424, -3.8268342819), (-9.8855110164, -4.0947126816))
            ThreePointArc((-9.8855110164, -4.0947126816), (-10.2047713875, -3.2175520086), (-10.4463672866, -2.3159038219))
            Line((-10.4463672866, -2.3159038219), (-9.762960081, -2.1643960953))
        make_face(mode=Mode.SUBTRACT)
        with Locations((2.2574263097, 12.8025007892)):
            Circle(F0_R, mode=Mode.SUBTRACT)
    extrude(amount=F2_DEPTH)

    # F0 (on Top) → F3 (join)
    with BuildSketch(Plane.XY):
        Circle(F0_R_2)
        Circle(F0_R_3, mode=Mode.SUBTRACT)
    extrude(amount=F3_DEPTH)

    # F0 (on Top) → F4 (join)
    with BuildSketch(Plane.XY):
        with BuildLine():
            Line((1.29e-08, 10.7), (1.21e-08, 10))
            ThreePointArc((1.21e-08, 10), (0.8715574395, 9.9619469799), (1.7364817885, 9.848077528))
            Line((1.7364817885, 9.848077528), (1.8580355137, 10.537442955))
            ThreePointArc((1.8580355137, 10.537442955), (0.9325664602, 10.6592832685), (1.29e-08, 10.7))
        make_face()
        with BuildLine():
            Line((-4.0947127174, 9.8855110016), (-3.8268343153, 9.2387953286))
            ThreePointArc((-3.8268343153, 9.2387953286), (-3.0070579864, 9.5371695102), (-2.1643961306, 9.7629600732))
            Line((-2.1643961306, 9.7629600732), (-2.3159038597, 10.4463672783))
            ThreePointArc((-2.3159038597, 10.4463672783), (-3.2175520455, 10.2047713759), (-4.0947127174, 9.8855110016))
        make_face()
        with BuildLine():
            Line((-7.5660425541, 7.5660425633), (-7.0710678076, 7.0710678161))
            ThreePointArc((-7.0710678076, 7.0710678161), (-6.4278760922, 7.6604444351), (-5.7357643586, 8.1915204463))
            Line((-5.7357643586, 8.1915204463), (-6.1372678637, 8.7649268776))
            ThreePointArc((-6.1372678637, 8.7649268776), (-6.8778274187, 8.1966755455), (-7.5660425541, 7.5660425633))
        make_face()
        with BuildLine():
            Line((-9.8855109966, 4.0947127293), (-9.238795324, 3.8268343264))
            ThreePointArc((-9.238795324, 3.8268343264), (-8.8701083304, 4.617486135), (-8.4339144565, 5.372996086))
            Line((-8.4339144565, 5.372996086), (-9.0242884685, 5.749105812))
            ThreePointArc((-9.0242884685, 5.749105812), (-9.4910159135, 4.9407101645), (-9.8855109966, 4.0947127293))
        make_face()
        with BuildLine():
            Line((4.0947127412, 9.8855109917), (3.8268343376, 9.2387953193))
            ThreePointArc((3.8268343376, 9.2387953193), (4.6174861457, 8.8701083248), (5.3729960962, 8.43391445))
            Line((5.3729960962, 8.43391445), (5.7491058229, 9.0242884615))
            ThreePointArc((5.7491058229, 9.0242884615), (4.9407101759, 9.4910159076), (4.0947127412, 9.8855109917))
        make_face()
        with BuildLine():
            Line((7.5660425724, 7.566042545), (7.0710678246, 7.0710677991))
            ThreePointArc((7.0710678246, 7.0710677991), (7.6604444428, 6.427876083), (8.1915204533, 5.7357643487))
            Line((8.1915204533, 5.7357643487), (8.764926885, 6.1372678531))
            ThreePointArc((8.764926885, 6.1372678531), (8.1966755538, 6.8778274088), (7.5660425724, 7.566042545))
        make_face()
        with BuildLine():
            Line((9.8855110065, 4.0947127055), (9.2387953332, 3.8268343042))
            ThreePointArc((9.2387953332, 3.8268343042), (9.5371695138, 3.0070579749), (9.7629600758, 2.1643961188))
            Line((9.7629600758, 2.1643961188), (10.4463672811, 2.3159038471))
            ThreePointArc((10.4463672811, 2.3159038471), (10.2047713798, 3.2175520332), (9.8855110065, 4.0947127055))
        make_face()
        with BuildLine():
            ThreePointArc((10, -2.41e-08), (9.9619469788, -0.8715574515), (9.8480775259, -1.7364818004))
            Line((9.8480775259, -1.7364818004), (10.5374429528, -1.8580355264))
            ThreePointArc((10.5374429528, -1.8580355264), (10.6592832673, -0.9325664731), (10.7, -2.58e-08))
            Line((10.7, -2.58e-08), (10, -2.41e-08))
        make_face()
        with BuildLine():
            ThreePointArc((9.2387953147, -3.8268343487), (8.8701083193, -4.6174861564), (8.4339144436, -5.3729961063))
            Line((8.4339144436, -5.3729961063), (9.0242884546, -5.7491058338))
            ThreePointArc((9.0242884546, -5.7491058338), (9.4910159016, -4.9407101873), (9.8855109868, -4.0947127531))
            Line((9.8855109868, -4.0947127531), (9.2387953147, -3.8268343487))
        make_face()
        with BuildLine():
            ThreePointArc((7.0710677906, -7.0710678332), (6.4278760738, -7.6604444506), (5.7357643388, -8.1915204602))
            Line((5.7357643388, -8.1915204602), (6.1372678425, -8.7649268924))
            ThreePointArc((6.1372678425, -8.7649268924), (6.877827399, -8.1966755621), (7.5660425359, -7.5660425815))
            Line((7.5660425359, -7.5660425815), (7.0710677906, -7.0710678332))
        make_face()
        with BuildLine():
            ThreePointArc((3.826834293, -9.2387953378), (3.0070579634, -9.5371695174), (2.164396107, -9.7629600784))
            Line((2.164396107, -9.7629600784), (2.3159038345, -10.4463672839))
            ThreePointArc((2.3159038345, -10.4463672839), (3.2175520209, -10.2047713837), (4.0947126935, -9.8855110114))
            Line((4.0947126935, -9.8855110114), (3.826834293, -9.2387953378))
        make_face()
        with BuildLine():
            ThreePointArc((-3.62e-08, -10), (-0.8715574635, -9.9619469778), (-1.7364818123, -9.8480775238))
            Line((-1.7364818123, -9.8480775238), (-1.8580355391, -10.5374429505))
            ThreePointArc((-1.8580355391, -10.5374429505), (-0.9325664859, -10.6592832662), (-3.87e-08, -10.7))
            Line((-3.87e-08, -10.7), (-3.62e-08, -10))
        make_face()
        with BuildLine():
            ThreePointArc((-3.8268343598, -9.2387953101), (-4.6174861671, -8.8701083137), (-5.3729961165, -8.4339144371))
            Line((-5.3729961165, -8.4339144371), (-5.7491058447, -9.0242884477))
            ThreePointArc((-5.7491058447, -9.0242884477), (-4.9407101988, -9.4910158957), (-4.094712765, -9.8855109818))
            Line((-4.094712765, -9.8855109818), (-3.8268343598, -9.2387953101))
        make_face()
        with BuildLine():
            ThreePointArc((-7.0710678417, -7.071067782), (-7.6604444583, -6.4278760646), (-8.1915204671, -5.735764329))
            Line((-8.1915204671, -5.735764329), (-8.7649268998, -6.137267832))
            ThreePointArc((-8.7649268998, -6.137267832), (-8.1966755704, -6.8778273891), (-7.5660425906, -7.5660425268))
            Line((-7.5660425906, -7.5660425268), (-7.0710678417, -7.071067782))
        make_face()
        with BuildLine():
            ThreePointArc((-9.2387953424, -3.8268342819), (-9.5371695211, -3.0070579519), (-9.762960081, -2.1643960953))
            Line((-9.762960081, -2.1643960953), (-10.4463672866, -2.3159038219))
            ThreePointArc((-10.4463672866, -2.3159038219), (-10.2047713875, -3.2175520086), (-9.8855110164, -4.0947126816))
            Line((-9.8855110164, -4.0947126816), (-9.2387953424, -3.8268342819))
        make_face()
    extrude(amount=F4_DEPTH)


solid = f1.part
